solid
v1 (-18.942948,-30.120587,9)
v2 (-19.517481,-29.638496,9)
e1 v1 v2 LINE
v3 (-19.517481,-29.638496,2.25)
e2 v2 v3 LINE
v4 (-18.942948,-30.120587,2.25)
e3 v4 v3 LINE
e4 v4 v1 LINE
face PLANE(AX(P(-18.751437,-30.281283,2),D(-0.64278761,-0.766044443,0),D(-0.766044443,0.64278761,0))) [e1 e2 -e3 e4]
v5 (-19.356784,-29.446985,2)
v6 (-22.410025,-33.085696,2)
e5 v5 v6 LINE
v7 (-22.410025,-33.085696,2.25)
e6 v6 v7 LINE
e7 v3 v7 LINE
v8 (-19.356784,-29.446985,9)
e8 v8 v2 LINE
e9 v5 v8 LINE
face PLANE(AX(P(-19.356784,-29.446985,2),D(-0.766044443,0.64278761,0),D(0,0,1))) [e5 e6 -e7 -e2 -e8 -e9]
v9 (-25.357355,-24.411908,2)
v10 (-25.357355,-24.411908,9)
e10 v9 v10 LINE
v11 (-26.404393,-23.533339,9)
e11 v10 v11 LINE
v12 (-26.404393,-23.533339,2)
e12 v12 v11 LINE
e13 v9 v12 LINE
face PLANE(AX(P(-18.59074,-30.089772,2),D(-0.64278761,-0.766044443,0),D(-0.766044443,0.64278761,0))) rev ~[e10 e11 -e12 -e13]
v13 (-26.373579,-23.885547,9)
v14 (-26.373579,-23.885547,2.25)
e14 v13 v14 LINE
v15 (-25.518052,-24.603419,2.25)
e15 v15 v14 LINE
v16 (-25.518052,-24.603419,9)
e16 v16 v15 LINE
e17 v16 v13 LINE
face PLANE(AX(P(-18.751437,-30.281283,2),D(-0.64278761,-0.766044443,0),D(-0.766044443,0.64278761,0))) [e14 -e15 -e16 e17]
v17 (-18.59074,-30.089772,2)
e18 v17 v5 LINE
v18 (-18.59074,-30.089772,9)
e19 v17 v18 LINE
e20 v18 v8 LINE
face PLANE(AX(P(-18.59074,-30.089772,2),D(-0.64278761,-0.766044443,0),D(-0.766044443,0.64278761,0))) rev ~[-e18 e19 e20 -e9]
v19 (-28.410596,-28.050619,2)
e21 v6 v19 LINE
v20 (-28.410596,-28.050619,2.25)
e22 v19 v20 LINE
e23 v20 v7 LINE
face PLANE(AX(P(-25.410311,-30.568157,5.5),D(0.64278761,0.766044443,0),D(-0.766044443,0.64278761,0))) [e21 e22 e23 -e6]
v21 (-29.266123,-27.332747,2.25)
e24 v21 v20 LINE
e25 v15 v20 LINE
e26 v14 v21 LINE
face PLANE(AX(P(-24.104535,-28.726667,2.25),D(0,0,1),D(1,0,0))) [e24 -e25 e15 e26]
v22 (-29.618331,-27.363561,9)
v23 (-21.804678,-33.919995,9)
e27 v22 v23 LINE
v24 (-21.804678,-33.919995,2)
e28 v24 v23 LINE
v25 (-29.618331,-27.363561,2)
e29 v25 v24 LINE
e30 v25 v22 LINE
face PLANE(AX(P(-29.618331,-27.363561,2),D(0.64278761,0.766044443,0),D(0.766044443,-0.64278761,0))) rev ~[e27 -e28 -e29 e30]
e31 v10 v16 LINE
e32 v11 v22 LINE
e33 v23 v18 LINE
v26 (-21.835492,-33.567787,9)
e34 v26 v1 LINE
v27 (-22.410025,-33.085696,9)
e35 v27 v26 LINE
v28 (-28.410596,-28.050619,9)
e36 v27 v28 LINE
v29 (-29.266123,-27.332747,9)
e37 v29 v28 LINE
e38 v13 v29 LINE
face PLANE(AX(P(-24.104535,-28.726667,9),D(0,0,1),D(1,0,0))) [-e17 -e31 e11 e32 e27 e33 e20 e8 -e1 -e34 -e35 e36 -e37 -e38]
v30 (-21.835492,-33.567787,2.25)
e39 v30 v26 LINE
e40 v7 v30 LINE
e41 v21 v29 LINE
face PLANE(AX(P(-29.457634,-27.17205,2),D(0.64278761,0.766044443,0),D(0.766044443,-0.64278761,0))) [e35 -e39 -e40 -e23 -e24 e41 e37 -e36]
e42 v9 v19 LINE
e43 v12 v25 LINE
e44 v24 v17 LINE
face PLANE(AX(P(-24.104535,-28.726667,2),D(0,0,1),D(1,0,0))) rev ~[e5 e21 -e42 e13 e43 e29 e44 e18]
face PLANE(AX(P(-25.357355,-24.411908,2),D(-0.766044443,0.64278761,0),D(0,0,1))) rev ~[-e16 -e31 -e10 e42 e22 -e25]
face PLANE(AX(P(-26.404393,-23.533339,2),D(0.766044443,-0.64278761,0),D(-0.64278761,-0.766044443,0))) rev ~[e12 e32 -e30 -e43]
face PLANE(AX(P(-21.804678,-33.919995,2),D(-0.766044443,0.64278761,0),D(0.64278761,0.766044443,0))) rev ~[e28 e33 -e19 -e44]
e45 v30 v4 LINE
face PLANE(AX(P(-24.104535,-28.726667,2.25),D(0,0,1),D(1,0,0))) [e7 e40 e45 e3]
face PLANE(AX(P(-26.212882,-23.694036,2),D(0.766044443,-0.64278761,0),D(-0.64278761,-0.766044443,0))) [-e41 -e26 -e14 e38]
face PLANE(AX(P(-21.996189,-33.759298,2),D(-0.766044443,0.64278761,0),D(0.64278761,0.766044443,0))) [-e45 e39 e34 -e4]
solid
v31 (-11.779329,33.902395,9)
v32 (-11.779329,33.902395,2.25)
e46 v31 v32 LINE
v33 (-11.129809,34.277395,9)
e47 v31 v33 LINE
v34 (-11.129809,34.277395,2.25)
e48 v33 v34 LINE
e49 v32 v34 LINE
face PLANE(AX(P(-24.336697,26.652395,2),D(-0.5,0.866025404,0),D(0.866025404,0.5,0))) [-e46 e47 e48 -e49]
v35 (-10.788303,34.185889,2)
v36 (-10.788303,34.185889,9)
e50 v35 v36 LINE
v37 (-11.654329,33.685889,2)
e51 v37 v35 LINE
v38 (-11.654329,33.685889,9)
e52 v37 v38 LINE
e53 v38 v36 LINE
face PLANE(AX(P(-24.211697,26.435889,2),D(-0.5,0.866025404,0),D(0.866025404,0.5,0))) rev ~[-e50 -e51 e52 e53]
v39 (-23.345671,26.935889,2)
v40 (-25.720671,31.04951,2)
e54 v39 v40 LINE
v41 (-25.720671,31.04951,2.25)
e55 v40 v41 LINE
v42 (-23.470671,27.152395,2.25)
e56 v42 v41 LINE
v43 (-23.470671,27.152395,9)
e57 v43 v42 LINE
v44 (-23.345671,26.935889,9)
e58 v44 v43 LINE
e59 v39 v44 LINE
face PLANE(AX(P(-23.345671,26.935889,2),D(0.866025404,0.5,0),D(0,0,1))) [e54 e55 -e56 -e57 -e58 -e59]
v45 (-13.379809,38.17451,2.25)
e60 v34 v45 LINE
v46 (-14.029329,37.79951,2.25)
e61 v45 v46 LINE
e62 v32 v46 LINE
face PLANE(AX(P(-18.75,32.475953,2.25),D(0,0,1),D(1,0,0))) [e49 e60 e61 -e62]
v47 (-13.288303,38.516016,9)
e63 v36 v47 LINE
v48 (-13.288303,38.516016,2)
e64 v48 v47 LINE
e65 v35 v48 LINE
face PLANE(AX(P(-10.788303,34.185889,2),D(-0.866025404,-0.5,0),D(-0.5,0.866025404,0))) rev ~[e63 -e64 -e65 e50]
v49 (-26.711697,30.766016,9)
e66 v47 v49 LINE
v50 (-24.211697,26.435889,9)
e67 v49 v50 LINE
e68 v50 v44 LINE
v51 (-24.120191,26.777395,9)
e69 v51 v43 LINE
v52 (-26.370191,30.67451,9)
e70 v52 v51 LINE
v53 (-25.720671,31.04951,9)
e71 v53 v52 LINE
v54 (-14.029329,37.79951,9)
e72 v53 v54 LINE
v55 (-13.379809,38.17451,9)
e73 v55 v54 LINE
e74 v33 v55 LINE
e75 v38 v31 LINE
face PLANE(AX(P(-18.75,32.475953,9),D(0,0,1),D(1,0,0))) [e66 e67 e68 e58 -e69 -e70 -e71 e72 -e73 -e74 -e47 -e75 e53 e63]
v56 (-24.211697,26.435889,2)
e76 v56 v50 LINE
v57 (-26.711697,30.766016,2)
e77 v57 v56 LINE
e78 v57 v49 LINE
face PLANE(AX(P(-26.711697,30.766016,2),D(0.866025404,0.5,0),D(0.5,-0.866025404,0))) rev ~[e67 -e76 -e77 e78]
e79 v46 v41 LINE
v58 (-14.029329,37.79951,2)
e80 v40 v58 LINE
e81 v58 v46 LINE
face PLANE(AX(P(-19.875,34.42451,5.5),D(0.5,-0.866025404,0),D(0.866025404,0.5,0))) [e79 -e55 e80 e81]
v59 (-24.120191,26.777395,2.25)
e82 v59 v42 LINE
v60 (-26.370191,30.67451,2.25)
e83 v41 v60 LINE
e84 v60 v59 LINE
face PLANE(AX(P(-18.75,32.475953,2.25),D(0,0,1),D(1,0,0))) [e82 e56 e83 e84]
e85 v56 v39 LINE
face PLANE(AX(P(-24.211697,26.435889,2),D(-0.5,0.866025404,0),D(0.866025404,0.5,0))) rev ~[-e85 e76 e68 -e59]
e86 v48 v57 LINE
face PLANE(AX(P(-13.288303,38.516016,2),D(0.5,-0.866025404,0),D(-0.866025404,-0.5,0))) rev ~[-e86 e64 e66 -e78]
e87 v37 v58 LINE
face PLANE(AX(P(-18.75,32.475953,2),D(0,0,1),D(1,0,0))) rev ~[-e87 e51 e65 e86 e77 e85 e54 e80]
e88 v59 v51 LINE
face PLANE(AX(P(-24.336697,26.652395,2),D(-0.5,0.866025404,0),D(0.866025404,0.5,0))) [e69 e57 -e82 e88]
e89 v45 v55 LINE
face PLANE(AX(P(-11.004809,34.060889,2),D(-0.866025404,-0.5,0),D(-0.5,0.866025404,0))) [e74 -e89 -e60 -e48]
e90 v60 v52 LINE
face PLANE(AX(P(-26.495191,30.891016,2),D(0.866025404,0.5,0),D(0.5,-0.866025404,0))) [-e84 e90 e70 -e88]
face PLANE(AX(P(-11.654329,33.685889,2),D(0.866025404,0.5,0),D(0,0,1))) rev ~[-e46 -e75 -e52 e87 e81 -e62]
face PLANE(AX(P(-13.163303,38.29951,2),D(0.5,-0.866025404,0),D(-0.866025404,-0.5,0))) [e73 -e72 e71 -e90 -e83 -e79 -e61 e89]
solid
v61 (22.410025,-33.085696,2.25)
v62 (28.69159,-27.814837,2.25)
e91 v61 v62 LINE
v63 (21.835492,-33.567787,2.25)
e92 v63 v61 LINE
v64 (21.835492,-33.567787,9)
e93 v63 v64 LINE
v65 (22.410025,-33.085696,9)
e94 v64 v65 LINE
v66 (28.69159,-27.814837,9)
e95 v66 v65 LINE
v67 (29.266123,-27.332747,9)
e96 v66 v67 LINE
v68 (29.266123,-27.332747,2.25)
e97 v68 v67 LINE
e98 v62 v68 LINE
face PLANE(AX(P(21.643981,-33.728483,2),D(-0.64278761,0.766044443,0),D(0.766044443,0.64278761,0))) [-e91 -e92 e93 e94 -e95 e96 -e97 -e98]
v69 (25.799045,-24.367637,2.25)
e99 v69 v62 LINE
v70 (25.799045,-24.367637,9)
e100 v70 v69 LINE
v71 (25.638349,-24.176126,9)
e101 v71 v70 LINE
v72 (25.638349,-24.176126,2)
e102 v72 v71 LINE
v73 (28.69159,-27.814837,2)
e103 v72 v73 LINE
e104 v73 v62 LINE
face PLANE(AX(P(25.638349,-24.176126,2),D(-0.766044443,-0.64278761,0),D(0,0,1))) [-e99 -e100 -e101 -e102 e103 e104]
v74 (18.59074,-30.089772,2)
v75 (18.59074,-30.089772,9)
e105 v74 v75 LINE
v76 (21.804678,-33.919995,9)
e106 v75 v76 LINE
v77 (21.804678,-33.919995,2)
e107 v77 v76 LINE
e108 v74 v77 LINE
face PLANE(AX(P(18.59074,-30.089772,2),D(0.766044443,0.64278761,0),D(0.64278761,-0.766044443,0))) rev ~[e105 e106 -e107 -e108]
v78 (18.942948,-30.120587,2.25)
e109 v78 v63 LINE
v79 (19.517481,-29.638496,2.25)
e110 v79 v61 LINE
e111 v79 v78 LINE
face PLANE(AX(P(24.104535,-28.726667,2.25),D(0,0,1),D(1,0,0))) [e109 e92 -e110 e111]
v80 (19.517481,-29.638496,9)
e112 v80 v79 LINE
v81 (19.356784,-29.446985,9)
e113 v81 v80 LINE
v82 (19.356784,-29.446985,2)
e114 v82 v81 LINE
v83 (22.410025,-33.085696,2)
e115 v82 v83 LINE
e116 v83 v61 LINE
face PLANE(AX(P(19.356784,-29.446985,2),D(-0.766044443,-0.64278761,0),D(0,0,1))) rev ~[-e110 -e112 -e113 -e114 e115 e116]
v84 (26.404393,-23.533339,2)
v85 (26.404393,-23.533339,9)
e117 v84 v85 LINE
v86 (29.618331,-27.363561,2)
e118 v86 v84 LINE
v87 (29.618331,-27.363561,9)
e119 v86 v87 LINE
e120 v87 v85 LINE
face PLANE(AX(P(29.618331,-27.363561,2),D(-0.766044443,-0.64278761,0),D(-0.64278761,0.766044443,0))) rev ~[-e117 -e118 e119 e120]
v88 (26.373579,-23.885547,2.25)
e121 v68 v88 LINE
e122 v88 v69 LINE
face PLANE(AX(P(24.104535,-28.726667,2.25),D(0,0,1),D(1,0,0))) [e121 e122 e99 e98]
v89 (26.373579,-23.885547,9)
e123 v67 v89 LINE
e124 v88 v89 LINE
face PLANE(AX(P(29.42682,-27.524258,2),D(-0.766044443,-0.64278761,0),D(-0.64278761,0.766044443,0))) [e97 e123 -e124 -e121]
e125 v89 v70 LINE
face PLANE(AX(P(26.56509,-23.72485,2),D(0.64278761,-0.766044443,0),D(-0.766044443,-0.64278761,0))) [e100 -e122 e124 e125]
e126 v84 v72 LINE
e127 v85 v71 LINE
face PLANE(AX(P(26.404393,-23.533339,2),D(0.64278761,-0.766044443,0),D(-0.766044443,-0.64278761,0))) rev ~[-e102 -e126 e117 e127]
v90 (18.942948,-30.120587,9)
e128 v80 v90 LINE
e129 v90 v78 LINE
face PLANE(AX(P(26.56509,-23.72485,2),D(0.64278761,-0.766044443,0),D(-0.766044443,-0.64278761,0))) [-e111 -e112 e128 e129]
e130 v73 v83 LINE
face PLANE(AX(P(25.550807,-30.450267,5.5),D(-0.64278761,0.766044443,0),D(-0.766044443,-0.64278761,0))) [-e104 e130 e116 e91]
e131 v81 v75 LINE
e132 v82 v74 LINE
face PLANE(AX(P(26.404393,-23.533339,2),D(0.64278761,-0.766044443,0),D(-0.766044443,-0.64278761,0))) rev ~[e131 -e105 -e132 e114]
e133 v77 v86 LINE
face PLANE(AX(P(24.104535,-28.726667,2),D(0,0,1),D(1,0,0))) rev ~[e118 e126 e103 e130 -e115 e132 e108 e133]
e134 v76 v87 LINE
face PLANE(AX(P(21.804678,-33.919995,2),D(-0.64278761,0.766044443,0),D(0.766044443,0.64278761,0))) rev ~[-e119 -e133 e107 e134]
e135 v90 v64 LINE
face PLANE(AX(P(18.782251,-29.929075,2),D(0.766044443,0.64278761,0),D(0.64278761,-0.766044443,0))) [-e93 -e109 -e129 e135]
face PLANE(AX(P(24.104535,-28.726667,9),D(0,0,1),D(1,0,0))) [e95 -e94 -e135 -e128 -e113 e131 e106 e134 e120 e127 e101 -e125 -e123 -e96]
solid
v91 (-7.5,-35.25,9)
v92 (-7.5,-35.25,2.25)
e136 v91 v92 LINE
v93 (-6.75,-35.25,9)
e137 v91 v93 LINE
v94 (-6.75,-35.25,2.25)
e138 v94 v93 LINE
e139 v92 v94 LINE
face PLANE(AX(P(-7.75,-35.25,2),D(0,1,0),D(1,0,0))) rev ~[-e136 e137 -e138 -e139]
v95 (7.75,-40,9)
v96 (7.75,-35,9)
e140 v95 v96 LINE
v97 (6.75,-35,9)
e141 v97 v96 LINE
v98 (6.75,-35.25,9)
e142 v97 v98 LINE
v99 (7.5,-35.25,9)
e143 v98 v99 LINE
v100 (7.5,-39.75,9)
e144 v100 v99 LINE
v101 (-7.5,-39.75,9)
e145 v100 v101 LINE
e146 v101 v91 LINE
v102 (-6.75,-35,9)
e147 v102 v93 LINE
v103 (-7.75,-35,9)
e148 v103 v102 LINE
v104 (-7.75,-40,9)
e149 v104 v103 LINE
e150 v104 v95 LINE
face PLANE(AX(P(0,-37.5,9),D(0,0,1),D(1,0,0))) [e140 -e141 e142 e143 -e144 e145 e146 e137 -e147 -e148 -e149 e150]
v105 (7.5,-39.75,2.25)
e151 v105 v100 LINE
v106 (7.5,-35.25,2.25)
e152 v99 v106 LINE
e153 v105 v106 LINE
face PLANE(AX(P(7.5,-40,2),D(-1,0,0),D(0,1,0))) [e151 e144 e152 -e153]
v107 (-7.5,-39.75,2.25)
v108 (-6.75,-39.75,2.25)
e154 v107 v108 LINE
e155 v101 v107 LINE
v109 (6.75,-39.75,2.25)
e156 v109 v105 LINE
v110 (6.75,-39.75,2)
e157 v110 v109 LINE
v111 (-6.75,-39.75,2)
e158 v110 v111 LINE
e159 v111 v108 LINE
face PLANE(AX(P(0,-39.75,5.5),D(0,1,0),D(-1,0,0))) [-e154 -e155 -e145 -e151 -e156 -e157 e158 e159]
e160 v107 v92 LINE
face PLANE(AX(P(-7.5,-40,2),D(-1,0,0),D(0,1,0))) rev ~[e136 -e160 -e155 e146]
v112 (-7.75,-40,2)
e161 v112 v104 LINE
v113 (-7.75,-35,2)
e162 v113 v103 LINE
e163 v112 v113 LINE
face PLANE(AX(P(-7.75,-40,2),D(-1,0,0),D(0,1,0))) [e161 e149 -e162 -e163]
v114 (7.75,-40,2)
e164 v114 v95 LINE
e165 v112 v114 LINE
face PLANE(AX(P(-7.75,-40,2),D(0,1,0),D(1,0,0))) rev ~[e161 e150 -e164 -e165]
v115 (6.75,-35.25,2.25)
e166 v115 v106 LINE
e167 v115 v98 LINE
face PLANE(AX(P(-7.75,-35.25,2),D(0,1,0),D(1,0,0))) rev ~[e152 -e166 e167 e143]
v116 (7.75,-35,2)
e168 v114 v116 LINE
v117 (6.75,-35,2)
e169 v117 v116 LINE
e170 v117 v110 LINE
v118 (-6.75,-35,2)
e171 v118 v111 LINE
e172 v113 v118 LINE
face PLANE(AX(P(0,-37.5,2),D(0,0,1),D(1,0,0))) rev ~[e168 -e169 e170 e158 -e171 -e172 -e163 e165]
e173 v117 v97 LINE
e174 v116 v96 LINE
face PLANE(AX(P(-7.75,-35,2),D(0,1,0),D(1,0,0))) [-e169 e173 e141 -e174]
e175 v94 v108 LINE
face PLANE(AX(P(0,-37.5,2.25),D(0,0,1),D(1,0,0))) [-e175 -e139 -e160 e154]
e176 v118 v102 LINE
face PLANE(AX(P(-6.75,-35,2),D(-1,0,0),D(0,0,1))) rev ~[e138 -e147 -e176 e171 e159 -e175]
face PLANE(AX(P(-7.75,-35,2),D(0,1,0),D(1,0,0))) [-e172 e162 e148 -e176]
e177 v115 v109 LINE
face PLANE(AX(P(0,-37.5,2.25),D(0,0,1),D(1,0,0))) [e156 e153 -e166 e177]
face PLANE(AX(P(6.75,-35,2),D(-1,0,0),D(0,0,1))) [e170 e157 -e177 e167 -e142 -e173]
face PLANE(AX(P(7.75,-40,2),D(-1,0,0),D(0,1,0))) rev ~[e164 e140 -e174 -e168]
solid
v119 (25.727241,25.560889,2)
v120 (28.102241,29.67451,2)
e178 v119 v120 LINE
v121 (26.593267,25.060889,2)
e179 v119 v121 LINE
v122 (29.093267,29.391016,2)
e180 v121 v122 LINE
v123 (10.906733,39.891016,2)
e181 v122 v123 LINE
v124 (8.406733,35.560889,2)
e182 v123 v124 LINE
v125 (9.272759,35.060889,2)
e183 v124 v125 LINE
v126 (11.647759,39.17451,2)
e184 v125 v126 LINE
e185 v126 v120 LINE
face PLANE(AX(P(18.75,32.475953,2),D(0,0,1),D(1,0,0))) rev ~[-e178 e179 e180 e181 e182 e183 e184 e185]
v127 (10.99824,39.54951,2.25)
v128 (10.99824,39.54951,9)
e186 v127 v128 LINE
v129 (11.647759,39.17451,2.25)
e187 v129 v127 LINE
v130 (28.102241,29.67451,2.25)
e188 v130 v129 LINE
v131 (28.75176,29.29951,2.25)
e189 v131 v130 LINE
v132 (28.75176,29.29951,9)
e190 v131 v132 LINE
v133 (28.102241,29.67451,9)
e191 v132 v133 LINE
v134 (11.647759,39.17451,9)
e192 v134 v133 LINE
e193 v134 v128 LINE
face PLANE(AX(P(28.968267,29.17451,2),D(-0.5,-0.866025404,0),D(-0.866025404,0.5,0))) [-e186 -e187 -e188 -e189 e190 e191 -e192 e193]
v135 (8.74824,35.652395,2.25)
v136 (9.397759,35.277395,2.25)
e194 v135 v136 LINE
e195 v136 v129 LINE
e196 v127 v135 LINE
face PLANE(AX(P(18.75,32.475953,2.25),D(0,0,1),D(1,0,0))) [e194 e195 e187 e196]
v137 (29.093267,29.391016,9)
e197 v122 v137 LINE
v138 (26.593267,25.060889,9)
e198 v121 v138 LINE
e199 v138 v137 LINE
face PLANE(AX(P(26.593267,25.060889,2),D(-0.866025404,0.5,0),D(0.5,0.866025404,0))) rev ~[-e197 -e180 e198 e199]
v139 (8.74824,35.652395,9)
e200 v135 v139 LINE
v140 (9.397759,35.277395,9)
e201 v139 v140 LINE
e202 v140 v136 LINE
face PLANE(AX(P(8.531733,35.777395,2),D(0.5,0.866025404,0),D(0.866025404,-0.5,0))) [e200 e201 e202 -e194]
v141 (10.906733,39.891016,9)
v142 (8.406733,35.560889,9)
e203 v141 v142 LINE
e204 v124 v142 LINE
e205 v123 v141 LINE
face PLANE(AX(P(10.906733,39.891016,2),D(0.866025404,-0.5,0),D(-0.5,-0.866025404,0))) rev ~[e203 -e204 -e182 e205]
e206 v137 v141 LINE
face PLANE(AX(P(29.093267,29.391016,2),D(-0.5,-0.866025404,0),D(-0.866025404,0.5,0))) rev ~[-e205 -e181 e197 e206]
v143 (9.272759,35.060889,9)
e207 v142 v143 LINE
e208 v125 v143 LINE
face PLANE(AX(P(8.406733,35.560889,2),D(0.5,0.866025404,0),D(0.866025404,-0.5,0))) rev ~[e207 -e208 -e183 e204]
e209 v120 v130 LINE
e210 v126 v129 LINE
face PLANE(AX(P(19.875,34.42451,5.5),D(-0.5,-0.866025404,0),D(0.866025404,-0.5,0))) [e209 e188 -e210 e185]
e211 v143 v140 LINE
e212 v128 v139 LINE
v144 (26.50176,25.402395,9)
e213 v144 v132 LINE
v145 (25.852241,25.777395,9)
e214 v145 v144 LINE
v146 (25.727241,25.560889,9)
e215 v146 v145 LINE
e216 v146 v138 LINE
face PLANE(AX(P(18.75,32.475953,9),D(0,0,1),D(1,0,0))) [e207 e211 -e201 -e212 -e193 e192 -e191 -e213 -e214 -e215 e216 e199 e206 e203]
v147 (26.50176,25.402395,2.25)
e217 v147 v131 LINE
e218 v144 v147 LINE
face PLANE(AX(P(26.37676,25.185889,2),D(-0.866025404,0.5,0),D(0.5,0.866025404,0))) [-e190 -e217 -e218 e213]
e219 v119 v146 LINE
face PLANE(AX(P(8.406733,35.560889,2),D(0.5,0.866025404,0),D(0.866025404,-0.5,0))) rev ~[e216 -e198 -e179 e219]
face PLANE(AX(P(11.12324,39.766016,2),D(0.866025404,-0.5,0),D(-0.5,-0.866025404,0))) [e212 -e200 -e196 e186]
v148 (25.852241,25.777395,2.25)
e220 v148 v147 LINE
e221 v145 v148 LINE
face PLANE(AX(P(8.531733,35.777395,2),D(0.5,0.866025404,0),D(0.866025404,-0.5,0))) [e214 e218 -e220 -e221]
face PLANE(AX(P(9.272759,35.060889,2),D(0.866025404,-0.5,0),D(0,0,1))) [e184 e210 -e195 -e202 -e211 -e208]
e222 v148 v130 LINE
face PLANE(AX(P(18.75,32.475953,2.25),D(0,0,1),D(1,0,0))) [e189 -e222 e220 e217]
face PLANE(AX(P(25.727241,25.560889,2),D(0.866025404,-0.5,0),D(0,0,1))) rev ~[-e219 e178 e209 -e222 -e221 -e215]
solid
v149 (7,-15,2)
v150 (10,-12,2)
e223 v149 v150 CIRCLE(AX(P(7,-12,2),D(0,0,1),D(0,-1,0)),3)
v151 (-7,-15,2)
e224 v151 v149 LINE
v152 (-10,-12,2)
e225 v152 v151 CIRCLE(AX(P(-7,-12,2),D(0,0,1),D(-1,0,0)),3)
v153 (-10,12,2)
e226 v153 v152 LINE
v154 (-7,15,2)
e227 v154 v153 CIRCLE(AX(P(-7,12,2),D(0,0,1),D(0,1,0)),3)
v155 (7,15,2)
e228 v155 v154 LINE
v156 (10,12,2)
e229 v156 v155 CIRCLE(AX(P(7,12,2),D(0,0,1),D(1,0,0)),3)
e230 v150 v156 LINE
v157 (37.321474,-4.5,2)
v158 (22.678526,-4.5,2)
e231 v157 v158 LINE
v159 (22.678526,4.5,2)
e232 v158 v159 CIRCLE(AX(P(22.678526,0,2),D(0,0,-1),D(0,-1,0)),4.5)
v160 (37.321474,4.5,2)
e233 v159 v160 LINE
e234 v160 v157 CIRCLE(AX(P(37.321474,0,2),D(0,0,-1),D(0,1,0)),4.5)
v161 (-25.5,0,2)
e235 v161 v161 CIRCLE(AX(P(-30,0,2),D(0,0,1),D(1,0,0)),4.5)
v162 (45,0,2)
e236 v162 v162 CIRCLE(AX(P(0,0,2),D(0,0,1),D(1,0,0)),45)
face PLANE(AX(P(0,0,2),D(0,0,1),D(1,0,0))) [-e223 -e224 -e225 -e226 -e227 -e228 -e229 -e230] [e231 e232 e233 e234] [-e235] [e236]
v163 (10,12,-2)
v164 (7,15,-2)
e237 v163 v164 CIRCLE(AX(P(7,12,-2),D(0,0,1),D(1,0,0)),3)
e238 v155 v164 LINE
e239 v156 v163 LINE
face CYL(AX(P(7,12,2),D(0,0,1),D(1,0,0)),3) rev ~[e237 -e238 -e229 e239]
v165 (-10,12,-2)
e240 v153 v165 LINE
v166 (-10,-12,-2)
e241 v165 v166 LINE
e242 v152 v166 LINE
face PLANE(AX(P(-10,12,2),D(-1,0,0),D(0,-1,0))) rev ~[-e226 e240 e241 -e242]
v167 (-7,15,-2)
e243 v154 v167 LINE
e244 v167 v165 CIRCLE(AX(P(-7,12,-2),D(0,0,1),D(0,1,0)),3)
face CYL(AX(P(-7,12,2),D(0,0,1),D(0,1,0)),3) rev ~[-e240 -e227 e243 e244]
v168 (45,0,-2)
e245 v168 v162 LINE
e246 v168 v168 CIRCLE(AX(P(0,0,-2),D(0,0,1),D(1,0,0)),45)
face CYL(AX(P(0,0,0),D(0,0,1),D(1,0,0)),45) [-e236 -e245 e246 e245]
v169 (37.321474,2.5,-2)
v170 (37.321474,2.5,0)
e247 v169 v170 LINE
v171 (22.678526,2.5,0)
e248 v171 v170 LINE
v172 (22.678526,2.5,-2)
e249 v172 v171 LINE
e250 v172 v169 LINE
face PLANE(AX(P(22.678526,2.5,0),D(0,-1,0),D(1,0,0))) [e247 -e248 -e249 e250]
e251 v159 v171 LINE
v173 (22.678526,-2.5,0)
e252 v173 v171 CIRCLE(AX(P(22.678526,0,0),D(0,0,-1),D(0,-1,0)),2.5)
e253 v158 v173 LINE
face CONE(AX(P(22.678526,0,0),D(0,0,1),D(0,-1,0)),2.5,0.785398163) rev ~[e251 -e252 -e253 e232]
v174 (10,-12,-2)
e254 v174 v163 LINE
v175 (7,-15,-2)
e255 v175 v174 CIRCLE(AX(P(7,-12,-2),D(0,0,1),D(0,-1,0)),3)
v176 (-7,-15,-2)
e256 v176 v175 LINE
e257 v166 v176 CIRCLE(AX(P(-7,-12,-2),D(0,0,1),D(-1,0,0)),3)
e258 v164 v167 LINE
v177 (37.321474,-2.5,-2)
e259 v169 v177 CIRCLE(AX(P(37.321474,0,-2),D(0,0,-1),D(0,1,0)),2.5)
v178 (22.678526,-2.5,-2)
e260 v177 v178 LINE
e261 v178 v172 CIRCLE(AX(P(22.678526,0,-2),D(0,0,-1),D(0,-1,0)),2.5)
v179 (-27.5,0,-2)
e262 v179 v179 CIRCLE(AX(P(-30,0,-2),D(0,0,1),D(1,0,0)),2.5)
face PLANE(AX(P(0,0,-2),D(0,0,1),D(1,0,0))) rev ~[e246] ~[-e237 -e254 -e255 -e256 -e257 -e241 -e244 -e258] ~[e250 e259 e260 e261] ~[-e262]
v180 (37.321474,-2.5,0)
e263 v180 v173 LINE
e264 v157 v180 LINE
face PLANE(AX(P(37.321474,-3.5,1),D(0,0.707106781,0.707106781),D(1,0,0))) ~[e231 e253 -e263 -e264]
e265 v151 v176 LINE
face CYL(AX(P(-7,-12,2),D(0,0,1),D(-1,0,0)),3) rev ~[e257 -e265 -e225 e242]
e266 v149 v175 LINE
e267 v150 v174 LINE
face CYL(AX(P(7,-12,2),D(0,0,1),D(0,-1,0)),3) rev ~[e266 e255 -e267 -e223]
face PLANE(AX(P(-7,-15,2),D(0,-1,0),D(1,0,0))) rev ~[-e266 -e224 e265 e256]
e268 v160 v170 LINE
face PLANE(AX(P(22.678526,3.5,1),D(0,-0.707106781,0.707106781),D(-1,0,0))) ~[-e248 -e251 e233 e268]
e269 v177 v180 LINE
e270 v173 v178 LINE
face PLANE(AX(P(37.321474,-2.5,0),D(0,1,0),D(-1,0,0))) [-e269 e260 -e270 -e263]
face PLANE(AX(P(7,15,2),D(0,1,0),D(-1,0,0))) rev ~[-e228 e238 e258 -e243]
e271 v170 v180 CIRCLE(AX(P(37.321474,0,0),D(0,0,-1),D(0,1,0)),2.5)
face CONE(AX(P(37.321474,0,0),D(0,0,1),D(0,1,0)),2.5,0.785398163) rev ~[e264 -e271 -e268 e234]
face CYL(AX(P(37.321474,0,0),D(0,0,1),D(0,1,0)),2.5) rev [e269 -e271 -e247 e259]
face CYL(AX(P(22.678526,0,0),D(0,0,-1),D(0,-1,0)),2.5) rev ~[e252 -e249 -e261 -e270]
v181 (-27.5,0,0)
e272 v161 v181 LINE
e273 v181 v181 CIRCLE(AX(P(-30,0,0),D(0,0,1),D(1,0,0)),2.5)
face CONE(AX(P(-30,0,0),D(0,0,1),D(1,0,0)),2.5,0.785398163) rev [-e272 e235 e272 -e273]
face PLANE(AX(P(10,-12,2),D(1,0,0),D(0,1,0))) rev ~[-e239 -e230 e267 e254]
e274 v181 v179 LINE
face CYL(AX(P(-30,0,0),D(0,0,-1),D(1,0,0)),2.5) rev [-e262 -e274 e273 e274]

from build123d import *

# Parameters (mm, degrees)
F0_R      = 45
F0_R_2    = 2.5
F1_DEPTH  = 2
F2_SIZE2  = 2
F2_SIZE   = 2
F3_SIZE2  = 2
F3_SIZE   = 2
F9_DEPTH  = 7
F6_W      = 15.5
F6_H      = 5
F10_T     = -0.25
F10_2_T   = -0.25
F10_3_T   = -0.25
F10_4_T   = -0.25
F10_5_T   = -0.25
F11_W     = 13.5
F11_H     = 7
F12_DEPTH = 4.75
F13_W     = 19
F13_H     = 7
F14_DEPTH = 4.75
F15_W     = 8.2
F15_H     = 7
F16_DEPTH = 4.75
F17_W     = 13.5
F17_H     = 7
F18_DEPTH = 4.75
F19_W     = 7.8331888452
F19_H     = 7
F20_DEPTH = 4.75
F22_DEPTH = 4.001


with BuildPart() as f1:
    # F0 (on Top) → F1 (new body, symmetric)
    with BuildSketch(Plane.XY):
        Circle(F0_R)
        with Locations((-30, 0)):
            Circle(F0_R_2, mode=Mode.SUBTRACT)
        with BuildLine():
            ThreePointArc((22.6785261184, -2.5), (20.1785261184, 0), (22.6785261184, 2.5))
            Line((22.6785261184, 2.5), (37.3214738816, 2.5))
            ThreePointArc((37.3214738816, 2.5), (39.8214738816, 0), (37.3214738816, -2.5))
            Line((37.3214738816, -2.5), (22.6785261184, -2.5))
        make_face(mode=Mode.SUBTRACT)
    extrude(amount=F1_DEPTH, both=True)

    # F2
    f2_edges = [f1.edges().sort_by_distance(p)[0] for p in [
        (-32.5, 0, 2),
    ]]
    chamfer(f2_edges, length=F2_SIZE, length2=F2_SIZE2)

    # F3
    f3_edges = [f1.edges().sort_by_distance(p)[0] for p in [
        (20.178526, 0, 2),
    ]]
    chamfer(f3_edges, length=F3_SIZE, length2=F3_SIZE2)

    # F21 (on face) → F22 (cut, through all)
    with BuildSketch(Plane.XY.offset(2)):
        with BuildLine():
            Line((7, 15), (-7, 15))
            ThreePointArc((-7, 15), (-9.1213203436, 14.1213203436), (-10, 12))
            Line((-10, 12), (-10, -12))
            ThreePointArc((-10, -12), (-9.1213203436, -14.1213203436), (-7, -15))
            Line((-7, -15), (7, -15))
            ThreePointArc((7, -15), (9.1213203436, -14.1213203436), (10, -12))
            Line((10, -12), (10, 12))
            ThreePointArc((10, 12), (9.1213203436, 14.1213203436), (7, 15))
        make_face()
    extrude(amount=-F22_DEPTH, mode=Mode.SUBTRACT)


with BuildPart() as f9:
    # F4 (on face) → F9 (new body)
    with BuildSketch(Plane.XY.offset(2)):
        Polygon((26.5932667397, 25.0608891325), (29.0932667397, 29.3910161514), (10.9067332603, 39.8910161514), (8.4067332603, 35.5608891325), align=None)
    extrude(amount=F9_DEPTH)

    # F10#2
    f10_2_openings = [f9.faces().sort_by_distance(p)[0] for p in [
        (18.75, 32.475953, 9),
    ]]
    offset(amount=F10_2_T, openings=f10_2_openings)

    # F13 (on face) → F14 (cut, through all)
    with BuildSketch(Plane(origin=(17.5, 30.3108891325, 0), x_dir=(0.8660254038, -0.5, 0), z_dir=(-0.5, -0.8660254038, 0))):
        with Locations((0, 5.5)):
            Rectangle(F13_W, F13_H)
    extrude(amount=-F14_DEPTH, mode=Mode.SUBTRACT)


with BuildPart() as f9b:
    # F5 (on face) → F9, piece 2 (new body)
    with BuildSketch(Plane.XY.offset(2)):
        Polygon((-10.7883031207, 34.1858891325), (-13.2883031207, 38.5160161514), (-26.7116968793, 30.7660161514), (-24.2116968793, 26.4358891325), align=None)
    extrude(amount=F9_DEPTH)

    # F10
    f10_openings = [f9b.faces().sort_by_distance(p)[0] for p in [
        (-18.75, 32.475953, 9),
    ]]
    offset(amount=F10_T, openings=f10_openings)

    # F11 (on face) → F12 (cut, through all)
    with BuildSketch(Plane(origin=(-17.5, 30.3108891325, 0), x_dir=(0.8660254038, 0.5, 0), z_dir=(0.5, -0.8660254038, 0))):
        with Locations((0, 5.5)):
            Rectangle(F11_W, F11_H)
    extrude(amount=-F12_DEPTH, mode=Mode.SUBTRACT)


with BuildPart() as f9c:
    # F6 (on face) → F9, piece 3 (new body)
    with BuildSketch(Plane.XY.offset(2)):
        with Locations((0, -37.5)):
            Rectangle(F6_W, F6_H)
    extrude(amount=F9_DEPTH)

    # F10#4
    f10_4_openings = [f9c.faces().sort_by_distance(p)[0] for p in [
        (0, -37.5, 9),
    ]]
    offset(amount=F10_4_T, openings=f10_4_openings)

    # F17 (on face) → F18 (cut, through all)
    with BuildSketch(Plane(origin=(0, -35, 0), x_dir=(-1, 0, 0), z_dir=(0, 1, 0))):
        with Locations((0, 5.5)):
            Rectangle(F17_W, F17_H)
    extrude(amount=-F18_DEPTH, mode=Mode.SUBTRACT)


with BuildPart() as f9d:
    # F7 (on face) → F9, piece 4 (new body)
    with BuildSketch(Plane.XY.offset(2)):
        Polygon((-26.4043929989, -23.5333386998), (-29.6183310474, -27.3635609154), (-21.8046777276, -33.9199945342), (-18.5907396791, -30.0897723186), align=None)
    extrude(amount=F9_DEPTH)

    # F10#5
    f10_5_openings = [f9d.faces().sort_by_distance(p)[0] for p in [
        (-24.104535, -28.726667, 9),
    ]]
    offset(amount=F10_5_T, openings=f10_5_openings)

    # F19 (on face) → F20 (cut, through all)
    with BuildSketch(Plane(origin=(-22.497566339, -26.8115555092, 0), x_dir=(-0.7660444431, 0.6427876097, 0), z_dir=(0.6427876097, 0.7660444431, 0))):
        with Locations((-0.1834055774, 5.5)):
            Rectangle(F19_W, F19_H)
    extrude(amount=-F20_DEPTH, mode=Mode.SUBTRACT)


with BuildPart() as f9e:
    # F8 (on face) → F9, piece 5 (new body)
    with BuildSketch(Plane.XY.offset(2)):
        Polygon((18.5907396791, -30.0897723186), (21.8046777276, -33.9199945342), (29.6183310474, -27.3635609154), (26.4043929989, -23.5333386998), align=None)
    extrude(amount=F9_DEPTH)

    # F10#3
    f10_3_openings = [f9e.faces().sort_by_distance(p)[0] for p in [
        (24.104535, -28.726667, 9),
    ]]
    offset(amount=F10_3_T, openings=f10_3_openings)

    # F15 (on face) → F16 (cut, through all)
    with BuildSketch(Plane(origin=(22.497566339, -26.8115555092, 0), x_dir=(-0.7660444431, -0.6427876097, 0), z_dir=(-0.6427876097, 0.7660444431, 0))):
        with Locations((0, 5.5)):
            Rectangle(F15_W, F15_H)
    extrude(amount=-F16_DEPTH, mode=Mode.SUBTRACT)


solid = Compound([f1.part, f9.part, f9b.part, f9c.part, f9d.part, f9e.part])
